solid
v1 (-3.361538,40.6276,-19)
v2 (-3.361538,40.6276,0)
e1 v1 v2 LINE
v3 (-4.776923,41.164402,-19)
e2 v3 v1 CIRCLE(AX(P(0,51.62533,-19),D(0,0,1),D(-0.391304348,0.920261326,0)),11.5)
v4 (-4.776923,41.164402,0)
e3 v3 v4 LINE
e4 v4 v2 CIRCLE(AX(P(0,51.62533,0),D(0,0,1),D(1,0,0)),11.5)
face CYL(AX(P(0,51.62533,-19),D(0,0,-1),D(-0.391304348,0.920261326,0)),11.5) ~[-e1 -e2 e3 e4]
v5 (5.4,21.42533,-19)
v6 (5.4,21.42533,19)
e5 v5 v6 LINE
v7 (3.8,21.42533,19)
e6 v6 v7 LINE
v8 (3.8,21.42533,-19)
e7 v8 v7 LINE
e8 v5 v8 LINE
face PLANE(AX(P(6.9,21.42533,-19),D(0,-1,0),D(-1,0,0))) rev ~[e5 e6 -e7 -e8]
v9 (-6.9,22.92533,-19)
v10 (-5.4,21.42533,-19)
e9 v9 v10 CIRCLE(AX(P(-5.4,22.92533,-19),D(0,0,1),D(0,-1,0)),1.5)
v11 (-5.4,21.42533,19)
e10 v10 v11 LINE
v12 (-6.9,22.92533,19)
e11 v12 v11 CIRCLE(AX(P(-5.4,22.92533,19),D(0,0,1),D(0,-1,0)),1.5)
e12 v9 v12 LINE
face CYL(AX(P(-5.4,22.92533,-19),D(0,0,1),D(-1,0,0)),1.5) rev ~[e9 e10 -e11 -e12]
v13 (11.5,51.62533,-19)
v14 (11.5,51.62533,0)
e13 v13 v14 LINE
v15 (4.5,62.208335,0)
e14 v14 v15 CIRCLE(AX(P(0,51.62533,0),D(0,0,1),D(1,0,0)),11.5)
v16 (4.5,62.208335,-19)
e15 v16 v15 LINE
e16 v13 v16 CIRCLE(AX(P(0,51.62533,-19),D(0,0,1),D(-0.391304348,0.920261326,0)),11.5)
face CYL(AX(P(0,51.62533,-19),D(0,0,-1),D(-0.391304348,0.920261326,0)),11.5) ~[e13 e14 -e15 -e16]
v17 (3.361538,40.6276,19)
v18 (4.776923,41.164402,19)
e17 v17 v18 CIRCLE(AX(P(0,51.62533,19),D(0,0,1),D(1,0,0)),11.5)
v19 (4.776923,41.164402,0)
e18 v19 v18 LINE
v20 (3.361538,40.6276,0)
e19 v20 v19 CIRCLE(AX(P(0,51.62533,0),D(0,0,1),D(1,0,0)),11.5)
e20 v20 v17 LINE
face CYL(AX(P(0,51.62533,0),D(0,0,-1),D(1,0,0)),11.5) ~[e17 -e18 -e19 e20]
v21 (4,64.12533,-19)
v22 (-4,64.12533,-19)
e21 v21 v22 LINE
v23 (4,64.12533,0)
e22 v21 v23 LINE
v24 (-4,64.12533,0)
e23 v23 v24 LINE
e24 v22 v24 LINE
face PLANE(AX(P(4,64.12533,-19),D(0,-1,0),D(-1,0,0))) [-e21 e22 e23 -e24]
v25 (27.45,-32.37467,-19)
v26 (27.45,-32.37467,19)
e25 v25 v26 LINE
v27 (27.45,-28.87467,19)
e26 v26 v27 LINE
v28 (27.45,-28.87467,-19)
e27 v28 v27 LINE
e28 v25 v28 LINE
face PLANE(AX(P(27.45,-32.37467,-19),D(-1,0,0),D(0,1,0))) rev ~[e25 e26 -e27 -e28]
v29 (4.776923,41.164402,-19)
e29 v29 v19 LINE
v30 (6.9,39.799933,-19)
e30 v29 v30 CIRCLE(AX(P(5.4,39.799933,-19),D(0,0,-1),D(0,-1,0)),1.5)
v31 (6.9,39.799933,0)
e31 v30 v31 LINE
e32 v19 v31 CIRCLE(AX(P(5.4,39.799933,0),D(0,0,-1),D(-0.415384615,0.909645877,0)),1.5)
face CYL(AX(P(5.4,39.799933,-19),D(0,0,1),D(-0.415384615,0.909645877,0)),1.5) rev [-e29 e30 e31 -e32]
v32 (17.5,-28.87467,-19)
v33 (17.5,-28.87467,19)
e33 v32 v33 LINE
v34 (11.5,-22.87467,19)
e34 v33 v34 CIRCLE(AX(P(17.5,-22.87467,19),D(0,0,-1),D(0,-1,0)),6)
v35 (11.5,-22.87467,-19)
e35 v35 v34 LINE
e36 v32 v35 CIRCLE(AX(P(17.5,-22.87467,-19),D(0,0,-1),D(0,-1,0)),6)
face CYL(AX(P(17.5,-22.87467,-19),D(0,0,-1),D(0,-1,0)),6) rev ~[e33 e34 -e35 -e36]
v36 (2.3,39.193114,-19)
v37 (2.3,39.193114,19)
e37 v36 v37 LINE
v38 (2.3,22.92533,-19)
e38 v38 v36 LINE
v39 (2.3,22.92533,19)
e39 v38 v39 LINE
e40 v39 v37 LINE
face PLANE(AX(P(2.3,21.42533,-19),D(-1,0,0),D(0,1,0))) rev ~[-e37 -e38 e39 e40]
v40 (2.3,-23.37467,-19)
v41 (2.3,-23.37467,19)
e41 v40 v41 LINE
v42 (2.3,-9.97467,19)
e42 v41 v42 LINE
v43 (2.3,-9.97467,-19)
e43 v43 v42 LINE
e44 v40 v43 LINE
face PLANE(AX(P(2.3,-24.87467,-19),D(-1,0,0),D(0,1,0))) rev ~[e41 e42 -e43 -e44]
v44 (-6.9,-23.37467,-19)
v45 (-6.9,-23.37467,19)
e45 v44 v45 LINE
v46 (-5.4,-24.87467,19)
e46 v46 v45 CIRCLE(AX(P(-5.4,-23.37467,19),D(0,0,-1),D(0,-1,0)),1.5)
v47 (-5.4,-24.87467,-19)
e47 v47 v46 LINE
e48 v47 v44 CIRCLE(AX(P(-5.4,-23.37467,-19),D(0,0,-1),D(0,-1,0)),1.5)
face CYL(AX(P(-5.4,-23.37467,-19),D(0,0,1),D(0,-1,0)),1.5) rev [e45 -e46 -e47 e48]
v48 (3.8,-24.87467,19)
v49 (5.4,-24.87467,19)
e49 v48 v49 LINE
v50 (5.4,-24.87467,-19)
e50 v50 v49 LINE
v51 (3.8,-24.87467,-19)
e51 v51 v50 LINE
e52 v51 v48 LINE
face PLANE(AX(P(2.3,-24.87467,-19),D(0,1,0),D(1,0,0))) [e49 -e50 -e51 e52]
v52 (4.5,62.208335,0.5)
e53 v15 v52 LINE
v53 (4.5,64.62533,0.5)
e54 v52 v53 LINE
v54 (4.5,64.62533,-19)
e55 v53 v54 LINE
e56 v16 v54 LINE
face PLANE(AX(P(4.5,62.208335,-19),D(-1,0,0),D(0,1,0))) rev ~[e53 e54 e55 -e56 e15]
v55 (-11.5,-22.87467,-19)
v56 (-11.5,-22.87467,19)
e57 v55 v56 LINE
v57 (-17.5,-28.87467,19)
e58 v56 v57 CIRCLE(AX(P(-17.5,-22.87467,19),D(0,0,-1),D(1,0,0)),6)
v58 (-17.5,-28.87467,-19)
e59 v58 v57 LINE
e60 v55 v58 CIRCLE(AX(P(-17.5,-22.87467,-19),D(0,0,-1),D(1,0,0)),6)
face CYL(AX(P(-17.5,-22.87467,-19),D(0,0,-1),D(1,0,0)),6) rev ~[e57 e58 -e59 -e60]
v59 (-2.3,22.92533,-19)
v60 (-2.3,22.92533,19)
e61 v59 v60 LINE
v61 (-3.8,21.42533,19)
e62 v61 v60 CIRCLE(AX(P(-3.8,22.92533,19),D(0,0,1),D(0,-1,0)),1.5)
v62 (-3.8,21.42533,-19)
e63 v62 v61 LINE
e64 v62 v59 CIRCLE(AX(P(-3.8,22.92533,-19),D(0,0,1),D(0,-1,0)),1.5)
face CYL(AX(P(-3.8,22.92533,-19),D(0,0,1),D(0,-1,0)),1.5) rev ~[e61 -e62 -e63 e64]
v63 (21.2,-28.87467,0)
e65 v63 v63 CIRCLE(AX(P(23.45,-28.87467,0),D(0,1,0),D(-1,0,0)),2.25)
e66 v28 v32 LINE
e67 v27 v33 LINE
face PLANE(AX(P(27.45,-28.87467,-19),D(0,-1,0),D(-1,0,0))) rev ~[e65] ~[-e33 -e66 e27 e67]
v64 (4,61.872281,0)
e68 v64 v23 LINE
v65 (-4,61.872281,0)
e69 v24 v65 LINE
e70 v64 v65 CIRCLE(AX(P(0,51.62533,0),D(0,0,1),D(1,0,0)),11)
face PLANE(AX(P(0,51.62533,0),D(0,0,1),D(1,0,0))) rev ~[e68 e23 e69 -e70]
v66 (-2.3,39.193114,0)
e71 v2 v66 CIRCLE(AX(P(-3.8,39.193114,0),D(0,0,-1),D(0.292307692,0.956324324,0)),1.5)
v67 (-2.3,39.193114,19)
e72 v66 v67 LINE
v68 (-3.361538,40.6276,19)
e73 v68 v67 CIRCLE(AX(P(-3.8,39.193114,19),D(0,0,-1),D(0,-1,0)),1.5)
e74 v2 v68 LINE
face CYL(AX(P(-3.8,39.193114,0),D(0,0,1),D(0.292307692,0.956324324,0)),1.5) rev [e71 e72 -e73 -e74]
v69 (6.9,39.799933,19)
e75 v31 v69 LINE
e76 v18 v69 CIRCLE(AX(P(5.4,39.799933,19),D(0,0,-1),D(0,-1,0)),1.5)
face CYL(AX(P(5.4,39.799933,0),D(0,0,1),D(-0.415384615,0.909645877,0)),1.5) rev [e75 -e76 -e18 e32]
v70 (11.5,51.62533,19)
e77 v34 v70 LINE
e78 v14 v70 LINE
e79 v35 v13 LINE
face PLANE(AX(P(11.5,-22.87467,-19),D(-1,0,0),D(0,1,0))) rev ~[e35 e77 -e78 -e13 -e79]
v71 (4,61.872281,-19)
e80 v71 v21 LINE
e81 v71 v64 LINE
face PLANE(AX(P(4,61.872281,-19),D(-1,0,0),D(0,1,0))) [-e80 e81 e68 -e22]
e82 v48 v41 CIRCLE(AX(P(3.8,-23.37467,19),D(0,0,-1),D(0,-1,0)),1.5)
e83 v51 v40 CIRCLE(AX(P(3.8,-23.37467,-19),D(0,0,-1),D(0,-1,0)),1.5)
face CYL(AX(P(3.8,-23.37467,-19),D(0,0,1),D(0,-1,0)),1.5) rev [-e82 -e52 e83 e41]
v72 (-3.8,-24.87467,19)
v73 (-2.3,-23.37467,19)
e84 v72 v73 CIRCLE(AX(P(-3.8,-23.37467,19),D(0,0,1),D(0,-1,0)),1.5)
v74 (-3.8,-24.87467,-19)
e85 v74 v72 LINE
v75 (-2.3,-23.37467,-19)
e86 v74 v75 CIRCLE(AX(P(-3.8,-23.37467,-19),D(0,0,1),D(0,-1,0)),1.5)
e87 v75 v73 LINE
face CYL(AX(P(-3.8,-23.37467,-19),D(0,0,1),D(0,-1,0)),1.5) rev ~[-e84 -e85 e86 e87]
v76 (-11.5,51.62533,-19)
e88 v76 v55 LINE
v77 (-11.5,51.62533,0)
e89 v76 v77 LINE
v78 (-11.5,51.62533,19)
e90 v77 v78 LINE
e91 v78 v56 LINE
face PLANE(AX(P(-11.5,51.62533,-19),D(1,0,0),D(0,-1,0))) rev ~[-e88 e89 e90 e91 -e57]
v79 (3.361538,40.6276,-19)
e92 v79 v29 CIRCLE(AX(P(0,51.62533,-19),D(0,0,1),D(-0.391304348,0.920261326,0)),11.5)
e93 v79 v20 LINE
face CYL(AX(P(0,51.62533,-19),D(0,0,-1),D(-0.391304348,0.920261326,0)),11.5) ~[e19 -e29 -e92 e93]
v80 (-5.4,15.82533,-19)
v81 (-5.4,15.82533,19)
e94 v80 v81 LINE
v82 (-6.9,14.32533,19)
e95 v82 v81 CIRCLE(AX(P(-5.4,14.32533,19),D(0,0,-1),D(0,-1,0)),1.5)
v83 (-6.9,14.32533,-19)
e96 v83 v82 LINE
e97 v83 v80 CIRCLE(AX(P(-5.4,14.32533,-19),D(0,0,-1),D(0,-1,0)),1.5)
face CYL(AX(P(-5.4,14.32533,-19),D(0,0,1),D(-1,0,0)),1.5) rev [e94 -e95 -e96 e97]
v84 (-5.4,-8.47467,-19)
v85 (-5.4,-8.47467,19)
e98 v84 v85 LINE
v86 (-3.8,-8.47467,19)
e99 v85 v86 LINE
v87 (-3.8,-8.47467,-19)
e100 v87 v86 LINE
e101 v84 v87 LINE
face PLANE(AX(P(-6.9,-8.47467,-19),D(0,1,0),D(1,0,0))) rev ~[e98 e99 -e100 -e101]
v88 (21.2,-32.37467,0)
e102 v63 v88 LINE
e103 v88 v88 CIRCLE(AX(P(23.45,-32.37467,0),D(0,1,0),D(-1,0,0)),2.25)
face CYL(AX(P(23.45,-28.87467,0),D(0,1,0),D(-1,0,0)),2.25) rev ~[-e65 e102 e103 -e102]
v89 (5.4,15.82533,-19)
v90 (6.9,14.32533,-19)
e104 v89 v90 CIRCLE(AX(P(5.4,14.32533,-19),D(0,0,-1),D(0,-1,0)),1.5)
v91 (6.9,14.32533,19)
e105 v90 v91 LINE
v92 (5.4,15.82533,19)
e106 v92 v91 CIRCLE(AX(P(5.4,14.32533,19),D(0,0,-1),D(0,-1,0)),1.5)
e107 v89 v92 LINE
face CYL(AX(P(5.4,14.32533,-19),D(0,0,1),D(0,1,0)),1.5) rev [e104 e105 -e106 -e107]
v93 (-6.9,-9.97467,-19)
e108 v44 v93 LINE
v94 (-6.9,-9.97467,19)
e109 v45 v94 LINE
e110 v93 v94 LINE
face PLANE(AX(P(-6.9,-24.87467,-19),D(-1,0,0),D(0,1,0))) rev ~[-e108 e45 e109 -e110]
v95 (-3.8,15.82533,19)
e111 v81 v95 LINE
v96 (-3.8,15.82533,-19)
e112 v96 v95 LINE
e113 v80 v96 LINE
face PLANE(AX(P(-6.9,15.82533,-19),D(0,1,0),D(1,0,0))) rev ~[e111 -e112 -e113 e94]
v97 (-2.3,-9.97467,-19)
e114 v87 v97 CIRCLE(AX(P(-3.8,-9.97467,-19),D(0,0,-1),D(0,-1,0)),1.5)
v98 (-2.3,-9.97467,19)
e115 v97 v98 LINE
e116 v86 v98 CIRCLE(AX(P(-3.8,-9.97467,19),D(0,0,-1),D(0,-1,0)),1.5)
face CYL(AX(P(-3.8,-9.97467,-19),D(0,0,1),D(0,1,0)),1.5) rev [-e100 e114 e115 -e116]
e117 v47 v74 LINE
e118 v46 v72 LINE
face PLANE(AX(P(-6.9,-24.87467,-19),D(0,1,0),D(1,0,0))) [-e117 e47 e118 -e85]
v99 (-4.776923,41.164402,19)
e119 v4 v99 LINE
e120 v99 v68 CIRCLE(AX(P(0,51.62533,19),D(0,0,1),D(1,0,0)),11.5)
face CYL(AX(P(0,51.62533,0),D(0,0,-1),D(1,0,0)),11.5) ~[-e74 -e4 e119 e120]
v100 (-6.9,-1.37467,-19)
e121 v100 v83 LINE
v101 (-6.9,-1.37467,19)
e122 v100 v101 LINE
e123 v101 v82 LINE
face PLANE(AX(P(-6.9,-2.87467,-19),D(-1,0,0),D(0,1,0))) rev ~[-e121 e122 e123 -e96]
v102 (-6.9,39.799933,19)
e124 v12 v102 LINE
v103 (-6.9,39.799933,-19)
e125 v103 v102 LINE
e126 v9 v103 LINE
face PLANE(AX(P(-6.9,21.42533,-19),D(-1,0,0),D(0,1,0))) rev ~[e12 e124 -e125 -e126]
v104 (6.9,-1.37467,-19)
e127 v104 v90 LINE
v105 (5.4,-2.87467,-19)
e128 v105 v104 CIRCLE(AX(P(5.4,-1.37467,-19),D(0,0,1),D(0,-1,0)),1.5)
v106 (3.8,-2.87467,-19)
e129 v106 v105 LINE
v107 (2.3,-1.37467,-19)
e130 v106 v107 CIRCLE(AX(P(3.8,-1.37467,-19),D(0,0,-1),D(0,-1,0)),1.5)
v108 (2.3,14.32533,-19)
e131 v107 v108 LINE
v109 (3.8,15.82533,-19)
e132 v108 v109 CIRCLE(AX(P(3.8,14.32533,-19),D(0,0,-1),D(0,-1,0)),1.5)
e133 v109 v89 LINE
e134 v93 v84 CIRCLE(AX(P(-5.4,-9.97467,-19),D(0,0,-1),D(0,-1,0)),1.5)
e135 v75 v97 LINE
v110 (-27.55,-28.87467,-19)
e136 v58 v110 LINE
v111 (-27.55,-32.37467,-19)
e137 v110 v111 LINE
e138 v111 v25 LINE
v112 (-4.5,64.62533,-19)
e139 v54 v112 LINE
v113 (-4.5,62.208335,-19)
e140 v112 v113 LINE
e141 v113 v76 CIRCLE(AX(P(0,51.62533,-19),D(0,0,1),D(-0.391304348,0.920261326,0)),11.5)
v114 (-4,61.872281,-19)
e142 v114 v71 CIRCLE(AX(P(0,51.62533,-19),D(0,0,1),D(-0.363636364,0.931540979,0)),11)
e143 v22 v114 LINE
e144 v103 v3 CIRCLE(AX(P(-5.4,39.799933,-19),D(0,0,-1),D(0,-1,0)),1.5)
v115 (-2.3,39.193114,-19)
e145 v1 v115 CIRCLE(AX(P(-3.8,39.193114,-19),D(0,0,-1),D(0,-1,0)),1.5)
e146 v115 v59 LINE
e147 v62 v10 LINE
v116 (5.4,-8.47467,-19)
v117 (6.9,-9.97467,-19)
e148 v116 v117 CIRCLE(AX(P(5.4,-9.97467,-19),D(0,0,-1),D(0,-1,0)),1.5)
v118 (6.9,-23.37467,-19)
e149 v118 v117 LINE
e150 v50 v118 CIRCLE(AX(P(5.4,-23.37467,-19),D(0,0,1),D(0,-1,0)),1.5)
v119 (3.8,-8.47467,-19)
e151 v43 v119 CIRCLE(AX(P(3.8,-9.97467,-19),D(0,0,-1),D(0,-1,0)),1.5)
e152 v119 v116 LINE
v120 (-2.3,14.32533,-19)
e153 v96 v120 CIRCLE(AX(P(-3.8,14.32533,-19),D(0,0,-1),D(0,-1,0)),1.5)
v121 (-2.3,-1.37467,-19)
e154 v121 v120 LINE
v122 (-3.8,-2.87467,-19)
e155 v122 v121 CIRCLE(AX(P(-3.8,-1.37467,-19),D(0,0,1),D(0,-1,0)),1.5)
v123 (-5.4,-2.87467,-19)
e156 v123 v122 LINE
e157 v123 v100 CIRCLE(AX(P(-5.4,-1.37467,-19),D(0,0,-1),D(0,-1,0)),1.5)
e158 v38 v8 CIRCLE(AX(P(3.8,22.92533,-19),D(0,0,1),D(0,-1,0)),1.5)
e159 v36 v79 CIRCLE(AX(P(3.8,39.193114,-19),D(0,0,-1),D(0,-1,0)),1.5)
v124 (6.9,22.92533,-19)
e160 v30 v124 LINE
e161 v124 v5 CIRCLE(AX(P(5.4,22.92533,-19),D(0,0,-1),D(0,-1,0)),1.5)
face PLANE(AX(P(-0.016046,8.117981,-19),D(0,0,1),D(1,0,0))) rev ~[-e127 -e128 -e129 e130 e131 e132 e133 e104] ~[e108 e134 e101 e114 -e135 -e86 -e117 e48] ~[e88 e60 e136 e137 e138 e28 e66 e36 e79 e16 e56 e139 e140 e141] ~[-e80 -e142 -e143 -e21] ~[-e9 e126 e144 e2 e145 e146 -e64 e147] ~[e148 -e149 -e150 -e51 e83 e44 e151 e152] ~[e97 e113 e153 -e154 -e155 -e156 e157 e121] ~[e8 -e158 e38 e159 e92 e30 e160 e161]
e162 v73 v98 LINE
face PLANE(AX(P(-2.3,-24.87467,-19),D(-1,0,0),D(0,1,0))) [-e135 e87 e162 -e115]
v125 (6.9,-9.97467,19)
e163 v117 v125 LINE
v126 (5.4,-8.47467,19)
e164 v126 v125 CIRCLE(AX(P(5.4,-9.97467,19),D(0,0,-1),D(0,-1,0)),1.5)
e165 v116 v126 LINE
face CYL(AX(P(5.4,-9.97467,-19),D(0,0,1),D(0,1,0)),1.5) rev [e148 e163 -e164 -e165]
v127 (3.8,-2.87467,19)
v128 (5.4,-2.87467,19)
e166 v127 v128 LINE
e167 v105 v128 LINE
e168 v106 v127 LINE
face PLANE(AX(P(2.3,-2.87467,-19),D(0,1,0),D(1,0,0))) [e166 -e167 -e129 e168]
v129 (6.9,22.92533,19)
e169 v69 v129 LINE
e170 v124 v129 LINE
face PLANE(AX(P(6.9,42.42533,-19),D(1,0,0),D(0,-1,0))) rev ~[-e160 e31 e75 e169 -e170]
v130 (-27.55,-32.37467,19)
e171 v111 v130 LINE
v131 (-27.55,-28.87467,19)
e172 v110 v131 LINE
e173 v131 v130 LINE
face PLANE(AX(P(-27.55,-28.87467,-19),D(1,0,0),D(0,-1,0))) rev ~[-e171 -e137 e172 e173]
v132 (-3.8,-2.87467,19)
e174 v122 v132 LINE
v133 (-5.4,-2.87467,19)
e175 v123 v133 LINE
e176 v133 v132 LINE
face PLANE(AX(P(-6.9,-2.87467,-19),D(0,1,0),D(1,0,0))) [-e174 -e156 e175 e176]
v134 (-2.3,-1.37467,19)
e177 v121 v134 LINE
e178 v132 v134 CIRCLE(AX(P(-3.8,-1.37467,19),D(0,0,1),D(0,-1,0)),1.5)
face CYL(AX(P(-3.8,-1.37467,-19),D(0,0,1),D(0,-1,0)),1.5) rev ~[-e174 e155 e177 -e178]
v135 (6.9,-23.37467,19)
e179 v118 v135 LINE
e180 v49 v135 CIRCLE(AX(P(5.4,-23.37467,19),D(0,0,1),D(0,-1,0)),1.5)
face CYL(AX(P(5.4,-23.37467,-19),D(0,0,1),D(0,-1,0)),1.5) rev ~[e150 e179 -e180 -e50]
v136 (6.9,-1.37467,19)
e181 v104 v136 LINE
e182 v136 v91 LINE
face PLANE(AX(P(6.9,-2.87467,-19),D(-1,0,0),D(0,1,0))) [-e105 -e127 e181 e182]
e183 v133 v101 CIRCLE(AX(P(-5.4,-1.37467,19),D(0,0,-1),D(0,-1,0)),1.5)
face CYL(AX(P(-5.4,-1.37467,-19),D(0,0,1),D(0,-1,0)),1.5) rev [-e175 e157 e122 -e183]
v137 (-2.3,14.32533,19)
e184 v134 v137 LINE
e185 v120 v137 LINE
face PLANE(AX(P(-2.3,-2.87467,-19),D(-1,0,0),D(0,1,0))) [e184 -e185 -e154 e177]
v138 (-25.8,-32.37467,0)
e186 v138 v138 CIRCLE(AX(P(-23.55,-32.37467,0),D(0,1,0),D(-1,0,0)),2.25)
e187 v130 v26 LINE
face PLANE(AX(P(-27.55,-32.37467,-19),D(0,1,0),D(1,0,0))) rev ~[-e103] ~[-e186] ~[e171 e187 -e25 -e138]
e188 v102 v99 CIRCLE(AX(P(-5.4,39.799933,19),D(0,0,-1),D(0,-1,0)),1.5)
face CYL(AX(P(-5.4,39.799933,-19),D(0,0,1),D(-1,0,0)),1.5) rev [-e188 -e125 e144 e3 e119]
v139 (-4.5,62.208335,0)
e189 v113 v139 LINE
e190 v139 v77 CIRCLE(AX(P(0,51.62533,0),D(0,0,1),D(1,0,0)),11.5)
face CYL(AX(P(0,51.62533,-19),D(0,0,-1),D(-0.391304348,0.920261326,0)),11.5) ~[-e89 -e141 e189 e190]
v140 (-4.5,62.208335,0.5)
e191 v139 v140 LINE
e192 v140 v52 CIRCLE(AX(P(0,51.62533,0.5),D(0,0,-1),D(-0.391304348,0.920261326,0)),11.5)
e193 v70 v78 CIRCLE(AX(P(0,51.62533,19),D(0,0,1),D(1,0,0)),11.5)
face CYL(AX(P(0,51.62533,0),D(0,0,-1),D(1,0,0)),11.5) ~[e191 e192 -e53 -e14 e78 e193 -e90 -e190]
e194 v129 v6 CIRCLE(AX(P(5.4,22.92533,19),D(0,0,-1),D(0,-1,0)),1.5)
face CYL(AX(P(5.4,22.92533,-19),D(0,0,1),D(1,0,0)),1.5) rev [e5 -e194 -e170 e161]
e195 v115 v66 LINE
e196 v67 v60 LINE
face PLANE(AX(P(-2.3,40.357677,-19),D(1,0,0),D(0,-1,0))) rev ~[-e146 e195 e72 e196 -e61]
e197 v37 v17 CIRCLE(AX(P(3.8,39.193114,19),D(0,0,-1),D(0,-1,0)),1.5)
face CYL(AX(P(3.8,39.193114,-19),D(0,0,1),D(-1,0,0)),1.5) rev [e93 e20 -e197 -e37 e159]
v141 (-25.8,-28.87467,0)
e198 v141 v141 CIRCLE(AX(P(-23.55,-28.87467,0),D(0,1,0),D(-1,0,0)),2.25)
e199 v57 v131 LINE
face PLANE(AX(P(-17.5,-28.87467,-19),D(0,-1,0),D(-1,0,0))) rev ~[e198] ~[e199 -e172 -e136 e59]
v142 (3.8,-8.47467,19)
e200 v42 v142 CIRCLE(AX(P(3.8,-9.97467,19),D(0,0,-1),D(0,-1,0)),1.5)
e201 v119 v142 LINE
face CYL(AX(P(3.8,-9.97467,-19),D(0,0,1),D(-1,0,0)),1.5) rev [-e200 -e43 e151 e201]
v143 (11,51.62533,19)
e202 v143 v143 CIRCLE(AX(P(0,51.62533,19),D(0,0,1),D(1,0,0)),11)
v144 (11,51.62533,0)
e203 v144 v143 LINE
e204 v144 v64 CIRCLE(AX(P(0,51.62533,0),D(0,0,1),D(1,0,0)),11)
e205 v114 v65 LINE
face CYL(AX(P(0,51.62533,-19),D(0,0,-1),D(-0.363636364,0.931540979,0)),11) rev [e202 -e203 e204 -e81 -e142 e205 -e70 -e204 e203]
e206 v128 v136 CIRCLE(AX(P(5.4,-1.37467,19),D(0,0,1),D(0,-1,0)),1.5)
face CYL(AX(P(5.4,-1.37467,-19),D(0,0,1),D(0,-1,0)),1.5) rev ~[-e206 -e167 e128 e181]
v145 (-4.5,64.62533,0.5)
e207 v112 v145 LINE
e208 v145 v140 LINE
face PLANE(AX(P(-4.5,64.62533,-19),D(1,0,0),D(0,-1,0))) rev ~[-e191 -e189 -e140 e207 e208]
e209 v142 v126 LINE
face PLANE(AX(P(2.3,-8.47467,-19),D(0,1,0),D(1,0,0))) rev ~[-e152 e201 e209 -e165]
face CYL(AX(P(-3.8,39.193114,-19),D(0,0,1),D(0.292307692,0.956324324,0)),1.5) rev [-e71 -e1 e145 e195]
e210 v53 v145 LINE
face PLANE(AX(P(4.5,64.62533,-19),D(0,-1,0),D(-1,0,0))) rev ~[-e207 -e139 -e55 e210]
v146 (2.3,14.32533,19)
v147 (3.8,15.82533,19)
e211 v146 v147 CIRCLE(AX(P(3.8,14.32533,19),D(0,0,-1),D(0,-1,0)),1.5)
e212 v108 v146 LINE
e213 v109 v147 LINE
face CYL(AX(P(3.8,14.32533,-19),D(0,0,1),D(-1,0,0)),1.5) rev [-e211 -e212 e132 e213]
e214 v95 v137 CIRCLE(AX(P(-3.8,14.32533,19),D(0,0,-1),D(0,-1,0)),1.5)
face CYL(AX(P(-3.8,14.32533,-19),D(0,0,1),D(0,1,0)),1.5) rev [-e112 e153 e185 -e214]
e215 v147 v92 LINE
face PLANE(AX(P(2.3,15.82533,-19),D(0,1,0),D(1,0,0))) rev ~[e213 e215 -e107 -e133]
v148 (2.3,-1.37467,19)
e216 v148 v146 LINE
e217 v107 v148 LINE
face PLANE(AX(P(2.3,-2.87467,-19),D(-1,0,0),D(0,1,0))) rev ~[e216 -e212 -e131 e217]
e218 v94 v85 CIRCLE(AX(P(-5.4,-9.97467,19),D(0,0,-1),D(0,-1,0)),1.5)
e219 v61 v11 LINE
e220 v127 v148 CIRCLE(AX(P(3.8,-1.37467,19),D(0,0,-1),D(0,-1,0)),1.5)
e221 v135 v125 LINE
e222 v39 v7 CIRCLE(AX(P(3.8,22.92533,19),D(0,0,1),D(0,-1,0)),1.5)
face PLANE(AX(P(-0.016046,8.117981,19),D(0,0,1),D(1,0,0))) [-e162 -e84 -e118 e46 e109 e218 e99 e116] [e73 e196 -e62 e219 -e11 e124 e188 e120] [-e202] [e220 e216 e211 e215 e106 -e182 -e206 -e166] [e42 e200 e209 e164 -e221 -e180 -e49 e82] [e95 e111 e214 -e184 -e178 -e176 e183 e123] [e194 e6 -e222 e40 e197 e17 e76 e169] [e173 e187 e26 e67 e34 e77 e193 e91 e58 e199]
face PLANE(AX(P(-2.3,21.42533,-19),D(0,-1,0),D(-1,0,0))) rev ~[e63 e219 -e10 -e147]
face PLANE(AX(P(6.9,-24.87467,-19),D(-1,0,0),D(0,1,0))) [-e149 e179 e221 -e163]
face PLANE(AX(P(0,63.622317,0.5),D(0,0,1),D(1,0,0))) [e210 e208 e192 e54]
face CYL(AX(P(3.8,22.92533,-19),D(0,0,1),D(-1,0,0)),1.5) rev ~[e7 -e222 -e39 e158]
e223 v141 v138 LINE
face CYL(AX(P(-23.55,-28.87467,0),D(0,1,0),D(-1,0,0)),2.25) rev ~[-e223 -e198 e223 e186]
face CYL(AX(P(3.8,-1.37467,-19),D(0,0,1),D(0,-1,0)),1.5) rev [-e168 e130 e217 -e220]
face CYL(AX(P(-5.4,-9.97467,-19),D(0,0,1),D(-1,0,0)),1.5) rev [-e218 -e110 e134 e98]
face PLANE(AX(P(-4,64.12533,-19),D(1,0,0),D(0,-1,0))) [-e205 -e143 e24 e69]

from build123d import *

# Parameters (mm, degrees)
CROQUIS1_R              = 11.5
CROQUIS1_R_2            = 11
SALIENTE_EXTRUIR1_DEPTH = 19
SALIENTE_EXTRUIR2_DEPTH = 0.5
SALIENTE_EXTRUIR3_START = 19
SALIENTE_EXTRUIR3_DEPTH = 19
SALIENTE_EXTRUIR4_START = -38
CROQUIS4_W              = 4.6
CROQUIS4_H              = 16.4
CROQUIS4_H_2            = 18.7
SALIENTE_EXTRUIR4_DEPTH = 38
CROQUIS5_R              = 2.25
CORTAR_EXTRUIR1_DEPTH   = 38
REDONDEO1_R             = 1.5


with BuildPart() as part:
    # Croquis1 → Saliente-Extruir1 (new body)
    with BuildSketch(Plane.XY):
        with Locations((0, 51.625329815)):
            Circle(CROQUIS1_R)
        with Locations((0, 51.625329815)):
            Circle(CROQUIS1_R_2, mode=Mode.SUBTRACT)
    extrude(amount=SALIENTE_EXTRUIR1_DEPTH)

    # Croquis3 → Saliente-Extruir2 (add)
    with BuildSketch(Plane(origin=(0, 0, 0), x_dir=(-1, 0, 0), z_dir=(0, 0, -1))):
        with BuildLine():
            Line((-4.5, 64.625329815), (4.5, 64.625329815))
            Line((4.5, 64.625329815), (4.5, 62.20833506))
            ThreePointArc((4.5, 62.20833506), (0, 63.125329815), (-4.5, 62.20833506))
            Line((-4.5, 62.20833506), (-4.5, 64.625329815))
        make_face()
    extrude(amount=-SALIENTE_EXTRUIR2_DEPTH)

    # Croquis2 → Saliente-Extruir3 (add)
    with BuildSketch(Plane(origin=(0, 0, 0), x_dir=(-1, 0, 0), z_dir=(0, 0, -1)).offset(SALIENTE_EXTRUIR3_START)):
        with BuildLine():
            Line((-4.5, 64.625329815), (4.5, 64.625329815))
            Line((4.5, 64.625329815), (4.5, 62.20833506))
            ThreePointArc((4.5, 62.20833506), (0, 40.125329815), (-4.5, 62.20833506))
            Line((-4.5, 62.20833506), (-4.5, 64.625329815))
        make_face()
        with BuildLine():
            Line((-4, 64.125329815), (4, 64.125329815))
            Line((4, 64.125329815), (4, 61.872280581))
            ThreePointArc((4, 61.872280581), (0, 40.625329815), (-4, 61.872280581))
            Line((-4, 61.872280581), (-4, 64.125329815))
        make_face(mode=Mode.SUBTRACT)
    extrude(amount=-SALIENTE_EXTRUIR3_DEPTH)

    # Croquis4 → Saliente-Extruir4 (add)
    with BuildSketch(Plane.XY.offset(19).offset(SALIENTE_EXTRUIR4_START)):
        with BuildLine():
            ThreePointArc((-6.9, 42.425329815), (-10.285912696, 46.482373467), (-11.5, 51.625329815))
            Line((-11.5, 51.625329815), (-11.5, -22.874670185))
            ThreePointArc((-11.5, -22.874670185), (-13.257359313, -27.117310872), (-17.5, -28.874670185))
            Line((-17.5, -28.874670185), (-27.55, -28.874670185))
            Line((-27.55, -28.874670185), (-27.55, -32.374670185))
            Line((-27.55, -32.374670185), (-11.55, -32.374670185))
            Line((-11.55, -32.374670185), (11.45, -32.374670185))
            Line((11.45, -32.374670185), (27.45, -32.374670185))
            Line((27.45, -32.374670185), (27.45, -28.874670185))
            Line((27.45, -28.874670185), (17.5, -28.874670185))
            ThreePointArc((17.5, -28.874670185), (13.257359313, -27.117310872), (11.5, -22.874670185))
            Line((11.5, -22.874670185), (11.5, 51.625329815))
            ThreePointArc((11.5, 51.625329815), (10.285912696, 46.482373467), (6.9, 42.425329815))
            Line((6.9, 42.425329815), (6.9, 21.425329815))
            Line((6.9, 21.425329815), (2.3, 21.425329815))
            Line((2.3, 21.425329815), (2.3, 40.357676999))
            ThreePointArc((2.3, 40.357676999), (0, 40.125329815), (-2.3, 40.357676999))
            Line((-2.3, 40.357676999), (-2.3, 21.425329815))
            Line((-2.3, 21.425329815), (-6.9, 21.425329815))
            Line((-6.9, 21.425329815), (-6.9, 42.425329815))
        make_face()
        with Locations((-4.6, -16.674670185)):
            Rectangle(CROQUIS4_W, CROQUIS4_H, mode=Mode.SUBTRACT)
        with Locations((-4.6, 6.475329815)):
            Rectangle(CROQUIS4_W, CROQUIS4_H_2, mode=Mode.SUBTRACT)
        with Locations((4.6, -16.674670185)):
            Rectangle(CROQUIS4_W, CROQUIS4_H, mode=Mode.SUBTRACT)
        with Locations((4.6, 6.475329815)):
            Rectangle(CROQUIS4_W, CROQUIS4_H_2, mode=Mode.SUBTRACT)
    extrude(amount=SALIENTE_EXTRUIR4_DEPTH)

    # Croquis5 → Cortar-Extruir1 (cut)
    with BuildSketch(Plane(origin=(0, -28.874670185, 0), x_dir=(1, 0, 0), z_dir=(0, 1, 0))):
        with Locations(Location((-23.55, 0, 0), (0, 0, 180))):
            Circle(CROQUIS5_R)
        with Locations(Location((23.45, 0, 0), (0, 0, 180))):
            Circle(CROQUIS5_R)
    extrude(amount=-CORTAR_EXTRUIR1_DEPTH, mode=Mode.SUBTRACT)

    # Redondeo1
    redondeo1_edges = [part.edges().sort_by_distance(p)[0] for p in [
        (2.3, -8.474670185, 0),
        (2.3, -24.874670185, 0),
        (6.9, -24.874670185, 0),
        (-6.9, -8.474670185, 0),
        (-6.9, -24.874670185, 0),
        (-2.3, -24.874670185, 0),
        (-2.3, -2.874670185, 0),
        (-2.3, 15.825329815, 0),
        (-6.9, 15.825329815, 0),
        (6.9, -2.874670185, 0),
        (6.9, 15.825329815, 0),
        (2.3, 15.825329815, 0),
        (-6.9, 42.425329815, 0),
        (-6.9, 21.425329815, 0),
        (-2.3, 21.425329815, 0),
        (-2.3, 40.357676999, 0),
        (2.3, 40.357676999, 0),
        (2.3, 21.425329815, 0),
        (6.9, 21.425329815, 0),
        (6.9, 42.425329815, 0),
        (-2.3, -8.474670185, 0),
        (-6.9, -2.874670185, 0),
        (2.3, -2.874670185, 0),
        (6.9, -8.474670185, 0),
    ]]
    fillet(redondeo1_edges, radius=REDONDEO1_R)


solid = part.part
